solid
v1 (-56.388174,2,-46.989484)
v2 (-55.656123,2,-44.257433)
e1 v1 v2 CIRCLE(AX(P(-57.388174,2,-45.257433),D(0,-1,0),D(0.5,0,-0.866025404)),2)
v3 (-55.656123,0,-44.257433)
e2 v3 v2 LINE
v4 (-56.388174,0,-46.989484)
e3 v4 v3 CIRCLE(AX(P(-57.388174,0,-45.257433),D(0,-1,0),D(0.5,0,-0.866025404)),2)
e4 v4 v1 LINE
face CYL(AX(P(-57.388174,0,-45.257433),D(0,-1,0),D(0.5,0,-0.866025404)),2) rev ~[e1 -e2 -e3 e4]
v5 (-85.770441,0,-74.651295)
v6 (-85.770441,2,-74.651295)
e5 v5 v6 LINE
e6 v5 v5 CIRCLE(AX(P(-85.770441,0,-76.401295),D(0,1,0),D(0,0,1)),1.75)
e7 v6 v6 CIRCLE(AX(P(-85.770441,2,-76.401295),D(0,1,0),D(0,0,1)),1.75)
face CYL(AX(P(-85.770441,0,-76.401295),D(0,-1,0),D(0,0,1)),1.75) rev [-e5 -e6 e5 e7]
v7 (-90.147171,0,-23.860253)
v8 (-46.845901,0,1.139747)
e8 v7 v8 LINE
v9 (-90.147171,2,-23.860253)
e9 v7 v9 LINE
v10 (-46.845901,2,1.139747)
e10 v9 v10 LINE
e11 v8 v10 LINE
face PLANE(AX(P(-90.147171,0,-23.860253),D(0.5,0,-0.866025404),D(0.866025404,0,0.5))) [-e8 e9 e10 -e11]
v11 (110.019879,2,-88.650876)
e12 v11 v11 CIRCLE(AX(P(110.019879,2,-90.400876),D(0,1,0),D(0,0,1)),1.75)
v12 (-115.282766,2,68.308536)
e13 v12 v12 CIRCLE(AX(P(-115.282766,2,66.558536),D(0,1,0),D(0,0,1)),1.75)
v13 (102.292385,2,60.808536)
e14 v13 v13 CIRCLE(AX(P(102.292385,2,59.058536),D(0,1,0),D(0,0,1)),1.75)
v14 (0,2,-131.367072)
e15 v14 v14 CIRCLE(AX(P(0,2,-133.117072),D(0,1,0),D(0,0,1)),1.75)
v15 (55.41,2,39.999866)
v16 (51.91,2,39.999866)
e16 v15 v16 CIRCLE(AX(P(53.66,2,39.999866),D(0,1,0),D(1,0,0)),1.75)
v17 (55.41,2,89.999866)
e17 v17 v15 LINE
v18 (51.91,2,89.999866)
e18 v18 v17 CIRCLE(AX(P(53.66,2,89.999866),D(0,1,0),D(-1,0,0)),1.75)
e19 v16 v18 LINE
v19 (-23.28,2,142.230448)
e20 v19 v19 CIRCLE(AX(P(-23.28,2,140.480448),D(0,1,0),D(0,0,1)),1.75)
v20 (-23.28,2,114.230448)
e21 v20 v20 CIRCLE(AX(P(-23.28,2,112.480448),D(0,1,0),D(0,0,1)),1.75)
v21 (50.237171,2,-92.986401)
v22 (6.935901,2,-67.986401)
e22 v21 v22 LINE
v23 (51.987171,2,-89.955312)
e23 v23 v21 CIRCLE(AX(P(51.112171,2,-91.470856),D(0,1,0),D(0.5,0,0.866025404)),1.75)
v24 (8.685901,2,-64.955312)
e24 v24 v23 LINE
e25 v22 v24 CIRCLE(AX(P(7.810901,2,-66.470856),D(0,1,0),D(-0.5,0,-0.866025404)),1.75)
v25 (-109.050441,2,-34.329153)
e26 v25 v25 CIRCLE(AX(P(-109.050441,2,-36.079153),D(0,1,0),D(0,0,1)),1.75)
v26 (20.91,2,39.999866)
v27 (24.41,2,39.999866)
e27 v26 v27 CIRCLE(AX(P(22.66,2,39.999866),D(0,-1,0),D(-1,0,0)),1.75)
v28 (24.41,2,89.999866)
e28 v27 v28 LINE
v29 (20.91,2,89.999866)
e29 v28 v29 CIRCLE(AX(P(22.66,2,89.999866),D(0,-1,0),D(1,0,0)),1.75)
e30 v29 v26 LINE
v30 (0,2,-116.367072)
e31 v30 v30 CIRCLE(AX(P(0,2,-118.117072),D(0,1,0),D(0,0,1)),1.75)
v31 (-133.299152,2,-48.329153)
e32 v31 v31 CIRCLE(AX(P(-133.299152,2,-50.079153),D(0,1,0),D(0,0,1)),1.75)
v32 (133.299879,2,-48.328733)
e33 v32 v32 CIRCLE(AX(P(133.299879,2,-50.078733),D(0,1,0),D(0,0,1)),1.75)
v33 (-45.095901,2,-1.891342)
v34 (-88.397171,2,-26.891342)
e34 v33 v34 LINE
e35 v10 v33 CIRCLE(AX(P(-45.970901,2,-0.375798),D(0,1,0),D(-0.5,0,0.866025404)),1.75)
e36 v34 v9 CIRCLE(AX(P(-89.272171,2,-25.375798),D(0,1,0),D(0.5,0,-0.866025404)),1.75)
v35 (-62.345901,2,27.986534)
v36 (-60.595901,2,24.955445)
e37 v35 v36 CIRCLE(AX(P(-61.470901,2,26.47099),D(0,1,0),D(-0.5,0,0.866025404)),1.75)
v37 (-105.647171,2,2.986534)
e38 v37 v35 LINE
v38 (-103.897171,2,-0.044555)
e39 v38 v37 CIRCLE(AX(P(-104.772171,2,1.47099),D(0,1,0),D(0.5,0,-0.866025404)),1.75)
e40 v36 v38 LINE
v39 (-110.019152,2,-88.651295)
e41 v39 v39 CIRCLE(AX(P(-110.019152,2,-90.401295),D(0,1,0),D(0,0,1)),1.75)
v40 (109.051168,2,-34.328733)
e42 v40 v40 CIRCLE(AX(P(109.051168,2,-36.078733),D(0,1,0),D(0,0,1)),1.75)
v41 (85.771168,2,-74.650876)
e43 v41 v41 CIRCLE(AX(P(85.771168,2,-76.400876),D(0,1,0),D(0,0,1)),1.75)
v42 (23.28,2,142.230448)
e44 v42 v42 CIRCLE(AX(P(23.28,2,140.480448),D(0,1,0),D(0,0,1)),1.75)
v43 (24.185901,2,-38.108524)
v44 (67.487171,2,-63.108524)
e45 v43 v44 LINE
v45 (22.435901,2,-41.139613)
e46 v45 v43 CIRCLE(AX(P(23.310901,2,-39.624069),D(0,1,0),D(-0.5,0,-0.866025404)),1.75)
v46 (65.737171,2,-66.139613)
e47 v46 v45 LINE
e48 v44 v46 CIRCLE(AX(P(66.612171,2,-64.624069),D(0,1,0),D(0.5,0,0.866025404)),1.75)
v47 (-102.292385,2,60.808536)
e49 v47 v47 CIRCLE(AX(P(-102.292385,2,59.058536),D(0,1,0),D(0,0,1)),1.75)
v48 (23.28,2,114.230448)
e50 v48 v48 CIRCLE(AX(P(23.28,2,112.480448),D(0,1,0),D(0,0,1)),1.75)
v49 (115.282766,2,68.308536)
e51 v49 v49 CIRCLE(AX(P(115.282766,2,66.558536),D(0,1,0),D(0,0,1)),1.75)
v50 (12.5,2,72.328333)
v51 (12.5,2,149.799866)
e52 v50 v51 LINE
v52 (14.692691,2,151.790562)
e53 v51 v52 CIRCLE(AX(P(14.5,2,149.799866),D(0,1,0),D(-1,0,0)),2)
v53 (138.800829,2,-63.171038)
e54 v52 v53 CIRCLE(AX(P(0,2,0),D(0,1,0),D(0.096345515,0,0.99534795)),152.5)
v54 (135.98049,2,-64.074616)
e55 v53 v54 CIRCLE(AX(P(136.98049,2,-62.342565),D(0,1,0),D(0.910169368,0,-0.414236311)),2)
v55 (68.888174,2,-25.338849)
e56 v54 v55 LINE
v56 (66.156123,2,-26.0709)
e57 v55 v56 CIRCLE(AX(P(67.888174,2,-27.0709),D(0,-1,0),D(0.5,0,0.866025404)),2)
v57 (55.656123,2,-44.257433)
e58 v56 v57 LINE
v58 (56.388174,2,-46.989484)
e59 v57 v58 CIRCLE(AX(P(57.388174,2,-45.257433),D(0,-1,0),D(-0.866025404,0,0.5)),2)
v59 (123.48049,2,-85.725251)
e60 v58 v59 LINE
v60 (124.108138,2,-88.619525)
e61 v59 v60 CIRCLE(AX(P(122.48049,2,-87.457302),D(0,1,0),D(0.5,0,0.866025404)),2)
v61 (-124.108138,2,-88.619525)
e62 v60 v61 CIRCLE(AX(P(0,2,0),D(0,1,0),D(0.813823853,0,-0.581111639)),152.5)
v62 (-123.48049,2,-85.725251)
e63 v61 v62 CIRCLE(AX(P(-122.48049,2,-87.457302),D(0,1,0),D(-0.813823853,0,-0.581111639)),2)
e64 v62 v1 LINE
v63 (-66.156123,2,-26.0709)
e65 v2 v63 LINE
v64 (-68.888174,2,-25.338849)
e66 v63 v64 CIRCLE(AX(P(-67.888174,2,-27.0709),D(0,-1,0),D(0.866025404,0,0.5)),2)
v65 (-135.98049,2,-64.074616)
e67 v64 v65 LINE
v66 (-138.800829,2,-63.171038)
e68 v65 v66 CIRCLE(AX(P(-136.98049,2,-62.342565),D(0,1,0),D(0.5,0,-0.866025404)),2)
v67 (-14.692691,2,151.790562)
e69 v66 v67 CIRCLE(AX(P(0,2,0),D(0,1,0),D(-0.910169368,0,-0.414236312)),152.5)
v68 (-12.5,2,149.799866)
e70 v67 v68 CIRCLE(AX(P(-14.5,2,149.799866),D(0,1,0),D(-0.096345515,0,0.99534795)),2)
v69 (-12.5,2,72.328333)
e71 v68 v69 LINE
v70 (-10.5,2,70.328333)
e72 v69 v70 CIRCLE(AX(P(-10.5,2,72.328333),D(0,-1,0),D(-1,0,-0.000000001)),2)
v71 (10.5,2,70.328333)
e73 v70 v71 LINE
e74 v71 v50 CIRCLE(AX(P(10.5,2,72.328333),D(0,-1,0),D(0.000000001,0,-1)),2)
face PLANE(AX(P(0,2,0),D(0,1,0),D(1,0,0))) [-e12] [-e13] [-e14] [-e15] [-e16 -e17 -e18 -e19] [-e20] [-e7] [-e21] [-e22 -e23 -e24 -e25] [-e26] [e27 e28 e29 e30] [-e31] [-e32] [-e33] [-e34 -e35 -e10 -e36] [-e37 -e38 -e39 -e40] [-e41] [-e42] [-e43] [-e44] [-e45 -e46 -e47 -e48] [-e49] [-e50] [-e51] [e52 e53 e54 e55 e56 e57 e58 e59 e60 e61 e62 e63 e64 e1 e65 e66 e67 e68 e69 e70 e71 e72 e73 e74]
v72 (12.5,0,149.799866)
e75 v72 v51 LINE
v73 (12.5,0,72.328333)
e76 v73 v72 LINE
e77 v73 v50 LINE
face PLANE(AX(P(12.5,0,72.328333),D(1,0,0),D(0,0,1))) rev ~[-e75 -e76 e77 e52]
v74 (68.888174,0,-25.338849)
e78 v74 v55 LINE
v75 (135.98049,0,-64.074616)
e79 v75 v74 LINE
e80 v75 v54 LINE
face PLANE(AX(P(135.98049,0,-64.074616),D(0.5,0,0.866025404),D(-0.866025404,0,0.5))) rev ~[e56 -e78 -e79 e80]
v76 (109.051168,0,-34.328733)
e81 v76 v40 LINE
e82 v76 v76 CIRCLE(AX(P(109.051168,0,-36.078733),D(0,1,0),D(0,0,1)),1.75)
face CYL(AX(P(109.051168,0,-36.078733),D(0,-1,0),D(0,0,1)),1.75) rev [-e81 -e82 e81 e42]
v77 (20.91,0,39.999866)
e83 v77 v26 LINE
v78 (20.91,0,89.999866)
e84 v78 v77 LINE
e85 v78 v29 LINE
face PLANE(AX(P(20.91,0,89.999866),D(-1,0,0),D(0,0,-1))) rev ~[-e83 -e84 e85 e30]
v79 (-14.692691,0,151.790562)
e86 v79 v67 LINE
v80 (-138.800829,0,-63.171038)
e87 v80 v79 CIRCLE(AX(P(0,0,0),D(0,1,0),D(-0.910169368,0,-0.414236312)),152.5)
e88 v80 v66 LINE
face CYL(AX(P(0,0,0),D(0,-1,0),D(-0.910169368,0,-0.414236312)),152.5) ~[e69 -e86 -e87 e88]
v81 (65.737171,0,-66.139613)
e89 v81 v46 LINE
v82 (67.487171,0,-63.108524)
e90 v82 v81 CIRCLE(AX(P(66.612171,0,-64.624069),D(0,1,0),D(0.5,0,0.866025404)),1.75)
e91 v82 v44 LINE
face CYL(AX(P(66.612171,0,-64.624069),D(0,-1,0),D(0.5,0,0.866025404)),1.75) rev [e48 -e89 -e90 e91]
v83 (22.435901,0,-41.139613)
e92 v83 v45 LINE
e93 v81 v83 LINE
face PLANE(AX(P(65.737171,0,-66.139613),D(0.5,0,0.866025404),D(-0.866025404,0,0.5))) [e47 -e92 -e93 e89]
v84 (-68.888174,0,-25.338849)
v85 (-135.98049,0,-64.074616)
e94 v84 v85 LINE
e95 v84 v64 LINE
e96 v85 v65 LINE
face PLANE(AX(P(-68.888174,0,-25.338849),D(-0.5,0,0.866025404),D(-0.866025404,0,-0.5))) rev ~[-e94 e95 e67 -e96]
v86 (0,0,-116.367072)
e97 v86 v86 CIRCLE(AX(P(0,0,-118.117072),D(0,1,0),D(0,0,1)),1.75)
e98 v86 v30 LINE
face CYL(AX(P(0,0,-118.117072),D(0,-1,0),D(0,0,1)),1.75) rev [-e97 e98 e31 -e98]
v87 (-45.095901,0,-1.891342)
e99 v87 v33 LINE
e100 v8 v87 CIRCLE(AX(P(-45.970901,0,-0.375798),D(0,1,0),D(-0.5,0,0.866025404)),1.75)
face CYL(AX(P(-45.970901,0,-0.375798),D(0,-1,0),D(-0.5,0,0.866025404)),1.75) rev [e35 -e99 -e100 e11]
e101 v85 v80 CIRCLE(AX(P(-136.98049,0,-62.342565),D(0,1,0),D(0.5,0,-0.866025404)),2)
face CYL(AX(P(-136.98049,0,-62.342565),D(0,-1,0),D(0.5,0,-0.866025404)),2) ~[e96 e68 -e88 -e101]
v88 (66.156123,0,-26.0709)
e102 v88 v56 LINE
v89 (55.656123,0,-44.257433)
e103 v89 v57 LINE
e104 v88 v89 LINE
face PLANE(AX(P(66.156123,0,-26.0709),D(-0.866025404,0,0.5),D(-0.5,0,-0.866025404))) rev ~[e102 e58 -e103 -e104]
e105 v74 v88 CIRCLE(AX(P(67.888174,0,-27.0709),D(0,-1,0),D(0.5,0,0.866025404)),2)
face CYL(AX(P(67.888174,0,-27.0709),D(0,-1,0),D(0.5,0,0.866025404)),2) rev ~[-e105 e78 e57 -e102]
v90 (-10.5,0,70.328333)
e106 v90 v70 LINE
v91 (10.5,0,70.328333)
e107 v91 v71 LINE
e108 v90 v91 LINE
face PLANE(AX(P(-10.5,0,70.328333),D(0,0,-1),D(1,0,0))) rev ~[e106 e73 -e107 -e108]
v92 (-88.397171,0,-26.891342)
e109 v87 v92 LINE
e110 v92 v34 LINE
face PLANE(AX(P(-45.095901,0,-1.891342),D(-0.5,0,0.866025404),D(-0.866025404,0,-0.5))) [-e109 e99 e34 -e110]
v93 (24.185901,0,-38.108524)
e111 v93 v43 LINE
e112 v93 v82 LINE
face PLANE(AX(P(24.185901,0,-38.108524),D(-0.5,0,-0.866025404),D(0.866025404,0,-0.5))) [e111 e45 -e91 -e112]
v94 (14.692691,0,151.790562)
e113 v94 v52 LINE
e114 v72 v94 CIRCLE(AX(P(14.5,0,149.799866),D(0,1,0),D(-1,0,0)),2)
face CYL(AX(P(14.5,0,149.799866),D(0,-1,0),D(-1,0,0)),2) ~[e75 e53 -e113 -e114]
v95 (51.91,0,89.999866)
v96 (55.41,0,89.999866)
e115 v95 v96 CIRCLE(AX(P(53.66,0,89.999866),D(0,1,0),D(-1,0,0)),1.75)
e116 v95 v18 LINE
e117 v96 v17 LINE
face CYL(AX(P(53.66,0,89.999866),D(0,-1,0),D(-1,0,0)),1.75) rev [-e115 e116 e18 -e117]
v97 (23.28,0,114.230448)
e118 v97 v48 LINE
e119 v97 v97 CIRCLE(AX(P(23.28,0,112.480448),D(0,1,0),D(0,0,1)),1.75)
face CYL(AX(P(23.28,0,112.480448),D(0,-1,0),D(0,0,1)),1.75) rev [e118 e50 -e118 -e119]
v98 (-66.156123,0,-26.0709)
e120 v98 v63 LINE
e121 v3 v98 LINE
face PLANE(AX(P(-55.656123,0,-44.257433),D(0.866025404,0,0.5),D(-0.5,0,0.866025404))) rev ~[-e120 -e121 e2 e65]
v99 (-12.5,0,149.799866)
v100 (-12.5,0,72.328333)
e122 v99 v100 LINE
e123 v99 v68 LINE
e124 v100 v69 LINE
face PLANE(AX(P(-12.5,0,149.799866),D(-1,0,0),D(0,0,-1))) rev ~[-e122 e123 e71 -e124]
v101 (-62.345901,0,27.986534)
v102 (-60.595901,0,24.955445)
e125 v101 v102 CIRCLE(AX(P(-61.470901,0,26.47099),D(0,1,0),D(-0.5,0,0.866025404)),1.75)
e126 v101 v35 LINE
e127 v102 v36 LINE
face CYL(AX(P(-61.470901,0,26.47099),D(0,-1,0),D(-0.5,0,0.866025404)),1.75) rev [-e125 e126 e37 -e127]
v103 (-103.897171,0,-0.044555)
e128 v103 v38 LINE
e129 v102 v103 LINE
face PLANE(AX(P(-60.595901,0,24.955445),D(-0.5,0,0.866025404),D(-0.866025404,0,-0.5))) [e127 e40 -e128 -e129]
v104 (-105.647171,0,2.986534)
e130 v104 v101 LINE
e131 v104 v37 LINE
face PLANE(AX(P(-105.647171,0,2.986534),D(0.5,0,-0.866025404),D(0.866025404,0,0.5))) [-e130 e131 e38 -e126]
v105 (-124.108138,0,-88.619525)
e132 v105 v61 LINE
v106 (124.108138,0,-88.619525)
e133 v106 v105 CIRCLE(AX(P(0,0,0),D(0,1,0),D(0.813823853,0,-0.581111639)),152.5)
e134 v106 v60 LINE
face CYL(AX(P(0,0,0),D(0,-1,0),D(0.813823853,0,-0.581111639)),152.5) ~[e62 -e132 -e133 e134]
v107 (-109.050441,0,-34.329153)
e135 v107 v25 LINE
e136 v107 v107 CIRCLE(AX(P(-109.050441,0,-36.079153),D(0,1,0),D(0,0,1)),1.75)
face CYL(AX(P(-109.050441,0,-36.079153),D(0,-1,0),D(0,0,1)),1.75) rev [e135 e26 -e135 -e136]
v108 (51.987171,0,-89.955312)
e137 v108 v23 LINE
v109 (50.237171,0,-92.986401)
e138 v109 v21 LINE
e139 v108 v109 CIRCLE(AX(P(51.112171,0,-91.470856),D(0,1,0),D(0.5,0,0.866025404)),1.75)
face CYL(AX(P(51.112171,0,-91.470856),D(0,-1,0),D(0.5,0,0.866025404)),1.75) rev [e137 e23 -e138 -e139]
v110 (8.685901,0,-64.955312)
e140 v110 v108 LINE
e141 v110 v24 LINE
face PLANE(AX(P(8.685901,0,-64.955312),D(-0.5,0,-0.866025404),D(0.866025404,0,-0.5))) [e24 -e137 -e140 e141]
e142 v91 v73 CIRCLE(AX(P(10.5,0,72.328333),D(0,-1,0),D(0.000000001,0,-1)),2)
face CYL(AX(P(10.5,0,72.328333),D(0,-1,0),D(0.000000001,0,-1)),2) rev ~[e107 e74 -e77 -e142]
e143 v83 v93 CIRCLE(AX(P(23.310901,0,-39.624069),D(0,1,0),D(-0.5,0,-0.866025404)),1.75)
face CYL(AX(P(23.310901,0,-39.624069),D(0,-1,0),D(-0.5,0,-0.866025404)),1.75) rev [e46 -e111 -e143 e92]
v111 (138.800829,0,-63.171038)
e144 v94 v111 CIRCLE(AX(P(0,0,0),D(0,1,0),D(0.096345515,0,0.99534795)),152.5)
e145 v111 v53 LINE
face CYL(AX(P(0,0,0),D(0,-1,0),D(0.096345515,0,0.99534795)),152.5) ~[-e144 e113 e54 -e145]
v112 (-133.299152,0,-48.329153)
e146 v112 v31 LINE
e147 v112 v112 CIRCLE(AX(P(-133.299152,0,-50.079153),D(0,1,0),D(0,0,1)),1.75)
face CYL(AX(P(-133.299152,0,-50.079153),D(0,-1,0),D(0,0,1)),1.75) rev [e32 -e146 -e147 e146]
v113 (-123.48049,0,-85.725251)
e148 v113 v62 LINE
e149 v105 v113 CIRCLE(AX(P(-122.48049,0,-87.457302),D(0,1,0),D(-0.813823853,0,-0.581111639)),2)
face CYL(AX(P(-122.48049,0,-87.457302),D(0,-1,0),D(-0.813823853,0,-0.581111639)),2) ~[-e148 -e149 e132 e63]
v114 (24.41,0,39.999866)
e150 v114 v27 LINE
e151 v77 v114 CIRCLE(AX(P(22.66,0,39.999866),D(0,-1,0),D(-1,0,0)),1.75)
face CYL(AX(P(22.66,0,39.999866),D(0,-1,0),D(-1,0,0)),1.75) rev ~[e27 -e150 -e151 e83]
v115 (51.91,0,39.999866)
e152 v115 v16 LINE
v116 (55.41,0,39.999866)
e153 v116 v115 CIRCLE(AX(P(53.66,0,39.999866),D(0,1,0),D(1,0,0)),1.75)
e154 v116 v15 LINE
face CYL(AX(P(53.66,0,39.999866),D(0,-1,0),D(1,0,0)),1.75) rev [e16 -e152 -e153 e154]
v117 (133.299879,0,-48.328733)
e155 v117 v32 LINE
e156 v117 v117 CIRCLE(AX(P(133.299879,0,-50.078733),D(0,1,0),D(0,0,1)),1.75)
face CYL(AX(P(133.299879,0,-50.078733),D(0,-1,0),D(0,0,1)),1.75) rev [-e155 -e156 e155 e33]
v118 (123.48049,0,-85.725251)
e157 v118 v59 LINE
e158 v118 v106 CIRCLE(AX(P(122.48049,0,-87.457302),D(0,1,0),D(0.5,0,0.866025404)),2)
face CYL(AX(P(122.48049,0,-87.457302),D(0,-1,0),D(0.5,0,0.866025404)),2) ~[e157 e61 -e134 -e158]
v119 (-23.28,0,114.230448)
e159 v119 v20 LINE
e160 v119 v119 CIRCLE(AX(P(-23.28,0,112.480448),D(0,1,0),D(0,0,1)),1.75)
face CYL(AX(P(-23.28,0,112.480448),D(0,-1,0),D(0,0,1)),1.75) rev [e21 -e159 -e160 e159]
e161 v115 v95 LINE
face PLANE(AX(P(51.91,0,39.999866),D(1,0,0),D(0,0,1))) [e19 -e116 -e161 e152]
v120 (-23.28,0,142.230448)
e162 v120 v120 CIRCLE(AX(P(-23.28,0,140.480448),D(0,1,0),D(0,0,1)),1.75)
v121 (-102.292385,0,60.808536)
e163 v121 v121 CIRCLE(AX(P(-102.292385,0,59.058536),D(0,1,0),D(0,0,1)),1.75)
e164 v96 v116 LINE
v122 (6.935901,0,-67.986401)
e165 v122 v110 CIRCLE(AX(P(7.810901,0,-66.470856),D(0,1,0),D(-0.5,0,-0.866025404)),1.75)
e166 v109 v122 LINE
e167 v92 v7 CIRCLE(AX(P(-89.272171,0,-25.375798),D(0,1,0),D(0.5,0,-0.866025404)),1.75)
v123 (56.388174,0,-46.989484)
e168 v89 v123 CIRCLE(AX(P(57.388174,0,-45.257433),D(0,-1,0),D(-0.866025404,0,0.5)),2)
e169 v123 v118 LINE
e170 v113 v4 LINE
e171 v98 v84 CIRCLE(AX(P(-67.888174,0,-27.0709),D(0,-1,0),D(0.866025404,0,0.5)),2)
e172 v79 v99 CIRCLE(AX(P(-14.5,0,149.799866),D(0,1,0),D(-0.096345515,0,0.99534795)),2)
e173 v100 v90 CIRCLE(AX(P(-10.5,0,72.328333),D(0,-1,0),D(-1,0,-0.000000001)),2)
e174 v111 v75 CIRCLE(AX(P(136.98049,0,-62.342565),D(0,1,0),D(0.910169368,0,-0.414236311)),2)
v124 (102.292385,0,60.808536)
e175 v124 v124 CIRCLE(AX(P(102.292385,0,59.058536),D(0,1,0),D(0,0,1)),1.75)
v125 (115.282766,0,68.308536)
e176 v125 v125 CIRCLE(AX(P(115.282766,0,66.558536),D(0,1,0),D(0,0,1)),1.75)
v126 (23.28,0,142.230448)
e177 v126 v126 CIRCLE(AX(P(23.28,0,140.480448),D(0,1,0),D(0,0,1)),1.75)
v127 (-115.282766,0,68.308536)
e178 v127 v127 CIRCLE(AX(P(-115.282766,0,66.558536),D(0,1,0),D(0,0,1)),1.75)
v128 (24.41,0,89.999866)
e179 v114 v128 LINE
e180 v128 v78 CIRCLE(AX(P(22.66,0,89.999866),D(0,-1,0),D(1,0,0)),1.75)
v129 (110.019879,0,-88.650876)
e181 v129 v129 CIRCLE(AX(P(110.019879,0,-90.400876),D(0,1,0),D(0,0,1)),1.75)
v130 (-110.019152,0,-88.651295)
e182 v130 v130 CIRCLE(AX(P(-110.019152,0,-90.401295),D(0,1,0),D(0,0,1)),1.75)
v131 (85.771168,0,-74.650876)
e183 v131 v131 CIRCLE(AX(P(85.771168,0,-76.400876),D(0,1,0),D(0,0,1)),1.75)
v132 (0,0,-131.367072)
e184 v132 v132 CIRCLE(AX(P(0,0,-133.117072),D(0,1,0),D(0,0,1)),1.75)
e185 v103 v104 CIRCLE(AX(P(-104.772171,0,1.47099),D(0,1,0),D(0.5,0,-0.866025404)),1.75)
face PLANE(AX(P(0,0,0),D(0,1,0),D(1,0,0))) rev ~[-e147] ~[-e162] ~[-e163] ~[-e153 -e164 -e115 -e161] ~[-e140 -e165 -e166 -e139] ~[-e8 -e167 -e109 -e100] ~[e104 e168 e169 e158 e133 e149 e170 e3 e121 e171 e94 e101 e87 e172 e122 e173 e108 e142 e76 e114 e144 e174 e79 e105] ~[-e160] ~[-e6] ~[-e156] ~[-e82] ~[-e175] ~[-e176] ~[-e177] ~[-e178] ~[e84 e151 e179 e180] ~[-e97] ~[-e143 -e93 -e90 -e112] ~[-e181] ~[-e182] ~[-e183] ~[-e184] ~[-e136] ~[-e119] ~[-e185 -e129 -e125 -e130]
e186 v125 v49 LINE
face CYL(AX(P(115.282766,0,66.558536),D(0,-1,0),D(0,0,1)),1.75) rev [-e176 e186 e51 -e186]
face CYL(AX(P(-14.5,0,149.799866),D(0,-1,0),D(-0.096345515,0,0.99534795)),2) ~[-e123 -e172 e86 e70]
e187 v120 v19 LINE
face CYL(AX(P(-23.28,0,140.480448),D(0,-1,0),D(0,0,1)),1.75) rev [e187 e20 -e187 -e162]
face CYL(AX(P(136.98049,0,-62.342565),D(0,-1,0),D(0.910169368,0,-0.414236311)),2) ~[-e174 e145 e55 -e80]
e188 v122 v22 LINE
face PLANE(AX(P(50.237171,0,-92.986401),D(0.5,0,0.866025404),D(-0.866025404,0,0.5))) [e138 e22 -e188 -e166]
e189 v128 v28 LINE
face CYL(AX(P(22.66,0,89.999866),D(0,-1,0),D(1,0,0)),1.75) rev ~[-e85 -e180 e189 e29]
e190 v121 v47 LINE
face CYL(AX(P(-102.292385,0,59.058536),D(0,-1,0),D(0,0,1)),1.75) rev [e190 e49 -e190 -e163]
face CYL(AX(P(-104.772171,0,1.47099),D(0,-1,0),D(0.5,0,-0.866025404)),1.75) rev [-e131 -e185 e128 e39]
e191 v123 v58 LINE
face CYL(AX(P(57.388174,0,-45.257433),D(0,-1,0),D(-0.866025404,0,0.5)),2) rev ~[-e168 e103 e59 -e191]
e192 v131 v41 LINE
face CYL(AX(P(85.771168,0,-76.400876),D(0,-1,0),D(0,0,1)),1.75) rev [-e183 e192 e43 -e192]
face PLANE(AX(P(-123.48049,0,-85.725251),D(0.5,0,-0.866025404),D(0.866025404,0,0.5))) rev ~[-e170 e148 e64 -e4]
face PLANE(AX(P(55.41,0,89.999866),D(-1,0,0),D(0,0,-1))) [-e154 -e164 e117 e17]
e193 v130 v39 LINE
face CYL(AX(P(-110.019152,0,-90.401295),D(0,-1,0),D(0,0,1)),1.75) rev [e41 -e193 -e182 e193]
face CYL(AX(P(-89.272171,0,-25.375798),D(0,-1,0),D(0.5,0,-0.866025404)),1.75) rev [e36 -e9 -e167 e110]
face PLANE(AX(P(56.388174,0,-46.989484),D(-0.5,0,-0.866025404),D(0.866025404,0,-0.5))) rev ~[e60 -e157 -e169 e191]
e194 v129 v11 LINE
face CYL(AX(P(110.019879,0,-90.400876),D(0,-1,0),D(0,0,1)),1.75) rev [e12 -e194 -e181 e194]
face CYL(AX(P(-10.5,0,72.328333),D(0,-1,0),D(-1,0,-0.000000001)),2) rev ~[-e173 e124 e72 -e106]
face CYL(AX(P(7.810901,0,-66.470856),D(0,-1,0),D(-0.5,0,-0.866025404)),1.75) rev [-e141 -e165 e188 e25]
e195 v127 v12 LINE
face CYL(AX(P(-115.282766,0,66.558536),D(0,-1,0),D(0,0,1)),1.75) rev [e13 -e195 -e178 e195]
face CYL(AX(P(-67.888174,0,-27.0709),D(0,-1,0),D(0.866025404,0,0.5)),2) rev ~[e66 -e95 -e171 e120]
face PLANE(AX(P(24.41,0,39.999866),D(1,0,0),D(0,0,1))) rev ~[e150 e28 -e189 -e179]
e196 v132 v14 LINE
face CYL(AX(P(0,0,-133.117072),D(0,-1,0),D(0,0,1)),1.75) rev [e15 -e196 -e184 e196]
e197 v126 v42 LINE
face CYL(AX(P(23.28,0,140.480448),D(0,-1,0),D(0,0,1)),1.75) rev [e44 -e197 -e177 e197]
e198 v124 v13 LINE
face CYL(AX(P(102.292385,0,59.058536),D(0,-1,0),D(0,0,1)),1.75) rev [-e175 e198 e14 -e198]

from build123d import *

# Parameters (mm, degrees)
SKETCH1_R           = 1.75
BOSS_EXTRUDE1_DEPTH = 2


with BuildPart() as part:
    # Sketch1 → Boss-Extrude1 (new body)
    with BuildSketch(Plane(origin=(0, 0, 0), x_dir=(1, 0, 0), z_dir=(0, 1, 0))):
        with BuildLine():
            Line((-12.5, -149.799866489), (-12.5, -72.328332691))
            ThreePointArc((-12.5, -72.328332691), (-11.914213562, -70.914119129), (-10.5, -70.328332691))
            Line((-10.5, -70.328332691), (10.5, -70.328332691))
            ThreePointArc((10.5, -70.328332691), (11.914213562, -70.914119129), (12.5, -72.328332691))
            Line((12.5, -72.328332691), (12.5, -149.799866489))
            ThreePointArc((12.5, -149.799866489), (13.155638081, -151.280640283), (14.69269103, -151.790562389))
            ThreePointArc((14.69269103, -151.790562389), (132.068874077, -76.25), (138.800828598, 63.171037513))
            ThreePointArc((138.800828598, 63.171037513), (137.590696626, 64.247203361), (135.980489863, 64.074615697))
            Line((135.980489863, 64.074615697), (68.888173524, 25.338848798))
            ThreePointArc((68.888173524, 25.338848798), (67.370535433, 25.139047953), (66.156122716, 26.070899606))
            Line((66.156122716, 26.070899606), (55.656122716, 44.257433085))
            ThreePointArc((55.656122716, 44.257433085), (55.456321871, 45.775071175), (56.388173524, 46.989483893))
            Line((56.388173524, 46.989483893), (123.480489863, 85.725250792))
            ThreePointArc((123.480489863, 85.725250792), (124.435058545, 87.033436922), (124.108137568, 88.619524876))
            ThreePointArc((124.108137568, 88.619524876), (0, 152.5), (-124.108137568, 88.619524876))
            ThreePointArc((-124.108137568, 88.619524876), (-124.435058545, 87.033436922), (-123.480489863, 85.725250792))
            Line((-123.480489863, 85.725250792), (-56.388173524, 46.989483893))
            ThreePointArc((-56.388173524, 46.989483893), (-55.456321871, 45.775071175), (-55.656122716, 44.257433085))
            Line((-55.656122716, 44.257433085), (-66.156122716, 26.070899606))
            ThreePointArc((-66.156122716, 26.070899606), (-67.370535433, 25.139047953), (-68.888173524, 25.338848798))
            Line((-68.888173524, 25.338848798), (-135.980489863, 64.074615697))
            ThreePointArc((-135.980489863, 64.074615697), (-137.590696626, 64.247203361), (-138.800828598, 63.171037513))
            ThreePointArc((-138.800828598, 63.171037513), (-132.068874077, -76.25), (-14.69269103, -151.790562389))
            ThreePointArc((-14.69269103, -151.790562389), (-13.155638081, -151.280640283), (-12.5, -149.799866489))
        make_face()
        with Locations(Location((115.282765815, -66.558535876, 0), (0, 0, 270))):
            Circle(SKETCH1_R, mode=Mode.SUBTRACT)
        with Locations(Location((102.292384759, -59.058535876, 0), (0, 0, 270))):
            Circle(SKETCH1_R, mode=Mode.SUBTRACT)
        with Locations(Location((-115.282765815, -66.558535876, 0), (0, 0, 270))):
            Circle(SKETCH1_R, mode=Mode.SUBTRACT)
        with Locations(Location((-102.292384759, -59.058535876, 0), (0, 0, 270))):
            Circle(SKETCH1_R, mode=Mode.SUBTRACT)
        with Locations(Location((0, 133.117071753, 0), (0, 0, 270))):
            Circle(SKETCH1_R, mode=Mode.SUBTRACT)
        with Locations(Location((0, 118.117071753, 0), (0, 0, 270))):
            Circle(SKETCH1_R, mode=Mode.SUBTRACT)
        with Locations(Location((110.01987893, 90.400875942, 0), (0, 0, 270))):
            Circle(SKETCH1_R, mode=Mode.SUBTRACT)
        with Locations(Location((85.771167624, 76.400875942, 0), (0, 0, 270))):
            Circle(SKETCH1_R, mode=Mode.SUBTRACT)
        with Locations(Location((133.29987893, 50.078733142, 0), (0, 0, 270))):
            Circle(SKETCH1_R, mode=Mode.SUBTRACT)
        with Locations(Location((109.051167624, 36.078733142, 0), (0, 0, 270))):
            Circle(SKETCH1_R, mode=Mode.SUBTRACT)
        with Locations(Location((23.280000001, -140.480448046, 0), (0, 0, 270))):
            Circle(SKETCH1_R, mode=Mode.SUBTRACT)
        with Locations(Location((23.280000001, -112.480448046, 0), (0, 0, 270))):
            Circle(SKETCH1_R, mode=Mode.SUBTRACT)
        with Locations(Location((-23.279999999, -140.480448046, 0), (0, 0, 270))):
            Circle(SKETCH1_R, mode=Mode.SUBTRACT)
        with Locations(Location((-23.279999999, -112.480448046, 0), (0, 0, 270))):
            Circle(SKETCH1_R, mode=Mode.SUBTRACT)
        with Locations(Location((-133.299152367, 50.079152622, 0), (0, 0, 270))):
            Circle(SKETCH1_R, mode=Mode.SUBTRACT)
        with Locations(Location((-109.050441061, 36.079152622, 0), (0, 0, 270))):
            Circle(SKETCH1_R, mode=Mode.SUBTRACT)
        with Locations(Location((-110.019152367, 90.401295422, 0), (0, 0, 270))):
            Circle(SKETCH1_R, mode=Mode.SUBTRACT)
        with Locations(Location((-85.770441061, 76.401295422, 0), (0, 0, 270))):
            Circle(SKETCH1_R, mode=Mode.SUBTRACT)
        with BuildLine():
            Line((20.91, -89.999866489), (20.91, -39.999866489))
            ThreePointArc((20.91, -39.999866489), (22.66, -38.249866489), (24.41, -39.999866489))
            Line((24.41, -39.999866489), (24.41, -89.999866489))
            ThreePointArc((24.41, -89.999866489), (22.66, -91.749866489), (20.91, -89.999866489))
        make_face(mode=Mode.SUBTRACT)
        with BuildLine():
            Line((55.410000001, -89.999866489), (55.410000001, -39.999866489))
            ThreePointArc((55.410000001, -39.999866489), (53.660000001, -38.249866489), (51.910000001, -39.999866489))
            Line((51.910000001, -39.999866489), (51.910000001, -89.999866489))
            ThreePointArc((51.910000001, -89.999866489), (53.660000001, -91.749866489), (55.410000001, -89.999866489))
        make_face(mode=Mode.SUBTRACT)
        with BuildLine():
            Line((-105.647170717, -2.98653438), (-62.345900528, -27.98653438))
            ThreePointArc((-62.345900528, -27.98653438), (-59.955356071, -27.345989924), (-60.595900528, -24.955445467))
            Line((-60.595900528, -24.955445467), (-103.897170717, 0.044554533))
            ThreePointArc((-103.897170717, 0.044554533), (-106.287715174, -0.595989924), (-105.647170717, -2.98653438))
        make_face(mode=Mode.SUBTRACT)
        with BuildLine():
            Line((-90.147170716, 23.860253138), (-46.845900527, -1.139746862))
            ThreePointArc((-46.845900527, -1.139746862), (-44.45535607, -0.499202405), (-45.095900527, 1.891342051))
            Line((-45.095900527, 1.891342051), (-88.397170716, 26.891342051))
            ThreePointArc((-88.397170716, 26.891342051), (-90.787715173, 26.250797595), (-90.147170716, 23.860253138))
        make_face(mode=Mode.SUBTRACT)
        with BuildLine():
            Line((50.237170716, 92.986400869), (6.935900526, 67.986400869))
            ThreePointArc((6.935900526, 67.986400869), (6.29535607, 65.595856412), (8.685900526, 64.955311956))
            Line((8.685900526, 64.955311956), (51.987170716, 89.955311956))
            ThreePointArc((51.987170716, 89.955311956), (52.627715172, 92.345856412), (50.237170716, 92.986400869))
        make_face(mode=Mode.SUBTRACT)
        with BuildLine():
            Line((65.737170716, 66.139613351), (22.435900527, 41.139613351))
            ThreePointArc((22.435900527, 41.139613351), (21.79535607, 38.749068894), (24.185900527, 38.108524437))
            Line((24.185900527, 38.108524437), (67.487170716, 63.108524437))
            ThreePointArc((67.487170716, 63.108524437), (68.127715173, 65.499068894), (65.737170716, 66.139613351))
        make_face(mode=Mode.SUBTRACT)
    extrude(amount=BOSS_EXTRUDE1_DEPTH)


solid = part.part
